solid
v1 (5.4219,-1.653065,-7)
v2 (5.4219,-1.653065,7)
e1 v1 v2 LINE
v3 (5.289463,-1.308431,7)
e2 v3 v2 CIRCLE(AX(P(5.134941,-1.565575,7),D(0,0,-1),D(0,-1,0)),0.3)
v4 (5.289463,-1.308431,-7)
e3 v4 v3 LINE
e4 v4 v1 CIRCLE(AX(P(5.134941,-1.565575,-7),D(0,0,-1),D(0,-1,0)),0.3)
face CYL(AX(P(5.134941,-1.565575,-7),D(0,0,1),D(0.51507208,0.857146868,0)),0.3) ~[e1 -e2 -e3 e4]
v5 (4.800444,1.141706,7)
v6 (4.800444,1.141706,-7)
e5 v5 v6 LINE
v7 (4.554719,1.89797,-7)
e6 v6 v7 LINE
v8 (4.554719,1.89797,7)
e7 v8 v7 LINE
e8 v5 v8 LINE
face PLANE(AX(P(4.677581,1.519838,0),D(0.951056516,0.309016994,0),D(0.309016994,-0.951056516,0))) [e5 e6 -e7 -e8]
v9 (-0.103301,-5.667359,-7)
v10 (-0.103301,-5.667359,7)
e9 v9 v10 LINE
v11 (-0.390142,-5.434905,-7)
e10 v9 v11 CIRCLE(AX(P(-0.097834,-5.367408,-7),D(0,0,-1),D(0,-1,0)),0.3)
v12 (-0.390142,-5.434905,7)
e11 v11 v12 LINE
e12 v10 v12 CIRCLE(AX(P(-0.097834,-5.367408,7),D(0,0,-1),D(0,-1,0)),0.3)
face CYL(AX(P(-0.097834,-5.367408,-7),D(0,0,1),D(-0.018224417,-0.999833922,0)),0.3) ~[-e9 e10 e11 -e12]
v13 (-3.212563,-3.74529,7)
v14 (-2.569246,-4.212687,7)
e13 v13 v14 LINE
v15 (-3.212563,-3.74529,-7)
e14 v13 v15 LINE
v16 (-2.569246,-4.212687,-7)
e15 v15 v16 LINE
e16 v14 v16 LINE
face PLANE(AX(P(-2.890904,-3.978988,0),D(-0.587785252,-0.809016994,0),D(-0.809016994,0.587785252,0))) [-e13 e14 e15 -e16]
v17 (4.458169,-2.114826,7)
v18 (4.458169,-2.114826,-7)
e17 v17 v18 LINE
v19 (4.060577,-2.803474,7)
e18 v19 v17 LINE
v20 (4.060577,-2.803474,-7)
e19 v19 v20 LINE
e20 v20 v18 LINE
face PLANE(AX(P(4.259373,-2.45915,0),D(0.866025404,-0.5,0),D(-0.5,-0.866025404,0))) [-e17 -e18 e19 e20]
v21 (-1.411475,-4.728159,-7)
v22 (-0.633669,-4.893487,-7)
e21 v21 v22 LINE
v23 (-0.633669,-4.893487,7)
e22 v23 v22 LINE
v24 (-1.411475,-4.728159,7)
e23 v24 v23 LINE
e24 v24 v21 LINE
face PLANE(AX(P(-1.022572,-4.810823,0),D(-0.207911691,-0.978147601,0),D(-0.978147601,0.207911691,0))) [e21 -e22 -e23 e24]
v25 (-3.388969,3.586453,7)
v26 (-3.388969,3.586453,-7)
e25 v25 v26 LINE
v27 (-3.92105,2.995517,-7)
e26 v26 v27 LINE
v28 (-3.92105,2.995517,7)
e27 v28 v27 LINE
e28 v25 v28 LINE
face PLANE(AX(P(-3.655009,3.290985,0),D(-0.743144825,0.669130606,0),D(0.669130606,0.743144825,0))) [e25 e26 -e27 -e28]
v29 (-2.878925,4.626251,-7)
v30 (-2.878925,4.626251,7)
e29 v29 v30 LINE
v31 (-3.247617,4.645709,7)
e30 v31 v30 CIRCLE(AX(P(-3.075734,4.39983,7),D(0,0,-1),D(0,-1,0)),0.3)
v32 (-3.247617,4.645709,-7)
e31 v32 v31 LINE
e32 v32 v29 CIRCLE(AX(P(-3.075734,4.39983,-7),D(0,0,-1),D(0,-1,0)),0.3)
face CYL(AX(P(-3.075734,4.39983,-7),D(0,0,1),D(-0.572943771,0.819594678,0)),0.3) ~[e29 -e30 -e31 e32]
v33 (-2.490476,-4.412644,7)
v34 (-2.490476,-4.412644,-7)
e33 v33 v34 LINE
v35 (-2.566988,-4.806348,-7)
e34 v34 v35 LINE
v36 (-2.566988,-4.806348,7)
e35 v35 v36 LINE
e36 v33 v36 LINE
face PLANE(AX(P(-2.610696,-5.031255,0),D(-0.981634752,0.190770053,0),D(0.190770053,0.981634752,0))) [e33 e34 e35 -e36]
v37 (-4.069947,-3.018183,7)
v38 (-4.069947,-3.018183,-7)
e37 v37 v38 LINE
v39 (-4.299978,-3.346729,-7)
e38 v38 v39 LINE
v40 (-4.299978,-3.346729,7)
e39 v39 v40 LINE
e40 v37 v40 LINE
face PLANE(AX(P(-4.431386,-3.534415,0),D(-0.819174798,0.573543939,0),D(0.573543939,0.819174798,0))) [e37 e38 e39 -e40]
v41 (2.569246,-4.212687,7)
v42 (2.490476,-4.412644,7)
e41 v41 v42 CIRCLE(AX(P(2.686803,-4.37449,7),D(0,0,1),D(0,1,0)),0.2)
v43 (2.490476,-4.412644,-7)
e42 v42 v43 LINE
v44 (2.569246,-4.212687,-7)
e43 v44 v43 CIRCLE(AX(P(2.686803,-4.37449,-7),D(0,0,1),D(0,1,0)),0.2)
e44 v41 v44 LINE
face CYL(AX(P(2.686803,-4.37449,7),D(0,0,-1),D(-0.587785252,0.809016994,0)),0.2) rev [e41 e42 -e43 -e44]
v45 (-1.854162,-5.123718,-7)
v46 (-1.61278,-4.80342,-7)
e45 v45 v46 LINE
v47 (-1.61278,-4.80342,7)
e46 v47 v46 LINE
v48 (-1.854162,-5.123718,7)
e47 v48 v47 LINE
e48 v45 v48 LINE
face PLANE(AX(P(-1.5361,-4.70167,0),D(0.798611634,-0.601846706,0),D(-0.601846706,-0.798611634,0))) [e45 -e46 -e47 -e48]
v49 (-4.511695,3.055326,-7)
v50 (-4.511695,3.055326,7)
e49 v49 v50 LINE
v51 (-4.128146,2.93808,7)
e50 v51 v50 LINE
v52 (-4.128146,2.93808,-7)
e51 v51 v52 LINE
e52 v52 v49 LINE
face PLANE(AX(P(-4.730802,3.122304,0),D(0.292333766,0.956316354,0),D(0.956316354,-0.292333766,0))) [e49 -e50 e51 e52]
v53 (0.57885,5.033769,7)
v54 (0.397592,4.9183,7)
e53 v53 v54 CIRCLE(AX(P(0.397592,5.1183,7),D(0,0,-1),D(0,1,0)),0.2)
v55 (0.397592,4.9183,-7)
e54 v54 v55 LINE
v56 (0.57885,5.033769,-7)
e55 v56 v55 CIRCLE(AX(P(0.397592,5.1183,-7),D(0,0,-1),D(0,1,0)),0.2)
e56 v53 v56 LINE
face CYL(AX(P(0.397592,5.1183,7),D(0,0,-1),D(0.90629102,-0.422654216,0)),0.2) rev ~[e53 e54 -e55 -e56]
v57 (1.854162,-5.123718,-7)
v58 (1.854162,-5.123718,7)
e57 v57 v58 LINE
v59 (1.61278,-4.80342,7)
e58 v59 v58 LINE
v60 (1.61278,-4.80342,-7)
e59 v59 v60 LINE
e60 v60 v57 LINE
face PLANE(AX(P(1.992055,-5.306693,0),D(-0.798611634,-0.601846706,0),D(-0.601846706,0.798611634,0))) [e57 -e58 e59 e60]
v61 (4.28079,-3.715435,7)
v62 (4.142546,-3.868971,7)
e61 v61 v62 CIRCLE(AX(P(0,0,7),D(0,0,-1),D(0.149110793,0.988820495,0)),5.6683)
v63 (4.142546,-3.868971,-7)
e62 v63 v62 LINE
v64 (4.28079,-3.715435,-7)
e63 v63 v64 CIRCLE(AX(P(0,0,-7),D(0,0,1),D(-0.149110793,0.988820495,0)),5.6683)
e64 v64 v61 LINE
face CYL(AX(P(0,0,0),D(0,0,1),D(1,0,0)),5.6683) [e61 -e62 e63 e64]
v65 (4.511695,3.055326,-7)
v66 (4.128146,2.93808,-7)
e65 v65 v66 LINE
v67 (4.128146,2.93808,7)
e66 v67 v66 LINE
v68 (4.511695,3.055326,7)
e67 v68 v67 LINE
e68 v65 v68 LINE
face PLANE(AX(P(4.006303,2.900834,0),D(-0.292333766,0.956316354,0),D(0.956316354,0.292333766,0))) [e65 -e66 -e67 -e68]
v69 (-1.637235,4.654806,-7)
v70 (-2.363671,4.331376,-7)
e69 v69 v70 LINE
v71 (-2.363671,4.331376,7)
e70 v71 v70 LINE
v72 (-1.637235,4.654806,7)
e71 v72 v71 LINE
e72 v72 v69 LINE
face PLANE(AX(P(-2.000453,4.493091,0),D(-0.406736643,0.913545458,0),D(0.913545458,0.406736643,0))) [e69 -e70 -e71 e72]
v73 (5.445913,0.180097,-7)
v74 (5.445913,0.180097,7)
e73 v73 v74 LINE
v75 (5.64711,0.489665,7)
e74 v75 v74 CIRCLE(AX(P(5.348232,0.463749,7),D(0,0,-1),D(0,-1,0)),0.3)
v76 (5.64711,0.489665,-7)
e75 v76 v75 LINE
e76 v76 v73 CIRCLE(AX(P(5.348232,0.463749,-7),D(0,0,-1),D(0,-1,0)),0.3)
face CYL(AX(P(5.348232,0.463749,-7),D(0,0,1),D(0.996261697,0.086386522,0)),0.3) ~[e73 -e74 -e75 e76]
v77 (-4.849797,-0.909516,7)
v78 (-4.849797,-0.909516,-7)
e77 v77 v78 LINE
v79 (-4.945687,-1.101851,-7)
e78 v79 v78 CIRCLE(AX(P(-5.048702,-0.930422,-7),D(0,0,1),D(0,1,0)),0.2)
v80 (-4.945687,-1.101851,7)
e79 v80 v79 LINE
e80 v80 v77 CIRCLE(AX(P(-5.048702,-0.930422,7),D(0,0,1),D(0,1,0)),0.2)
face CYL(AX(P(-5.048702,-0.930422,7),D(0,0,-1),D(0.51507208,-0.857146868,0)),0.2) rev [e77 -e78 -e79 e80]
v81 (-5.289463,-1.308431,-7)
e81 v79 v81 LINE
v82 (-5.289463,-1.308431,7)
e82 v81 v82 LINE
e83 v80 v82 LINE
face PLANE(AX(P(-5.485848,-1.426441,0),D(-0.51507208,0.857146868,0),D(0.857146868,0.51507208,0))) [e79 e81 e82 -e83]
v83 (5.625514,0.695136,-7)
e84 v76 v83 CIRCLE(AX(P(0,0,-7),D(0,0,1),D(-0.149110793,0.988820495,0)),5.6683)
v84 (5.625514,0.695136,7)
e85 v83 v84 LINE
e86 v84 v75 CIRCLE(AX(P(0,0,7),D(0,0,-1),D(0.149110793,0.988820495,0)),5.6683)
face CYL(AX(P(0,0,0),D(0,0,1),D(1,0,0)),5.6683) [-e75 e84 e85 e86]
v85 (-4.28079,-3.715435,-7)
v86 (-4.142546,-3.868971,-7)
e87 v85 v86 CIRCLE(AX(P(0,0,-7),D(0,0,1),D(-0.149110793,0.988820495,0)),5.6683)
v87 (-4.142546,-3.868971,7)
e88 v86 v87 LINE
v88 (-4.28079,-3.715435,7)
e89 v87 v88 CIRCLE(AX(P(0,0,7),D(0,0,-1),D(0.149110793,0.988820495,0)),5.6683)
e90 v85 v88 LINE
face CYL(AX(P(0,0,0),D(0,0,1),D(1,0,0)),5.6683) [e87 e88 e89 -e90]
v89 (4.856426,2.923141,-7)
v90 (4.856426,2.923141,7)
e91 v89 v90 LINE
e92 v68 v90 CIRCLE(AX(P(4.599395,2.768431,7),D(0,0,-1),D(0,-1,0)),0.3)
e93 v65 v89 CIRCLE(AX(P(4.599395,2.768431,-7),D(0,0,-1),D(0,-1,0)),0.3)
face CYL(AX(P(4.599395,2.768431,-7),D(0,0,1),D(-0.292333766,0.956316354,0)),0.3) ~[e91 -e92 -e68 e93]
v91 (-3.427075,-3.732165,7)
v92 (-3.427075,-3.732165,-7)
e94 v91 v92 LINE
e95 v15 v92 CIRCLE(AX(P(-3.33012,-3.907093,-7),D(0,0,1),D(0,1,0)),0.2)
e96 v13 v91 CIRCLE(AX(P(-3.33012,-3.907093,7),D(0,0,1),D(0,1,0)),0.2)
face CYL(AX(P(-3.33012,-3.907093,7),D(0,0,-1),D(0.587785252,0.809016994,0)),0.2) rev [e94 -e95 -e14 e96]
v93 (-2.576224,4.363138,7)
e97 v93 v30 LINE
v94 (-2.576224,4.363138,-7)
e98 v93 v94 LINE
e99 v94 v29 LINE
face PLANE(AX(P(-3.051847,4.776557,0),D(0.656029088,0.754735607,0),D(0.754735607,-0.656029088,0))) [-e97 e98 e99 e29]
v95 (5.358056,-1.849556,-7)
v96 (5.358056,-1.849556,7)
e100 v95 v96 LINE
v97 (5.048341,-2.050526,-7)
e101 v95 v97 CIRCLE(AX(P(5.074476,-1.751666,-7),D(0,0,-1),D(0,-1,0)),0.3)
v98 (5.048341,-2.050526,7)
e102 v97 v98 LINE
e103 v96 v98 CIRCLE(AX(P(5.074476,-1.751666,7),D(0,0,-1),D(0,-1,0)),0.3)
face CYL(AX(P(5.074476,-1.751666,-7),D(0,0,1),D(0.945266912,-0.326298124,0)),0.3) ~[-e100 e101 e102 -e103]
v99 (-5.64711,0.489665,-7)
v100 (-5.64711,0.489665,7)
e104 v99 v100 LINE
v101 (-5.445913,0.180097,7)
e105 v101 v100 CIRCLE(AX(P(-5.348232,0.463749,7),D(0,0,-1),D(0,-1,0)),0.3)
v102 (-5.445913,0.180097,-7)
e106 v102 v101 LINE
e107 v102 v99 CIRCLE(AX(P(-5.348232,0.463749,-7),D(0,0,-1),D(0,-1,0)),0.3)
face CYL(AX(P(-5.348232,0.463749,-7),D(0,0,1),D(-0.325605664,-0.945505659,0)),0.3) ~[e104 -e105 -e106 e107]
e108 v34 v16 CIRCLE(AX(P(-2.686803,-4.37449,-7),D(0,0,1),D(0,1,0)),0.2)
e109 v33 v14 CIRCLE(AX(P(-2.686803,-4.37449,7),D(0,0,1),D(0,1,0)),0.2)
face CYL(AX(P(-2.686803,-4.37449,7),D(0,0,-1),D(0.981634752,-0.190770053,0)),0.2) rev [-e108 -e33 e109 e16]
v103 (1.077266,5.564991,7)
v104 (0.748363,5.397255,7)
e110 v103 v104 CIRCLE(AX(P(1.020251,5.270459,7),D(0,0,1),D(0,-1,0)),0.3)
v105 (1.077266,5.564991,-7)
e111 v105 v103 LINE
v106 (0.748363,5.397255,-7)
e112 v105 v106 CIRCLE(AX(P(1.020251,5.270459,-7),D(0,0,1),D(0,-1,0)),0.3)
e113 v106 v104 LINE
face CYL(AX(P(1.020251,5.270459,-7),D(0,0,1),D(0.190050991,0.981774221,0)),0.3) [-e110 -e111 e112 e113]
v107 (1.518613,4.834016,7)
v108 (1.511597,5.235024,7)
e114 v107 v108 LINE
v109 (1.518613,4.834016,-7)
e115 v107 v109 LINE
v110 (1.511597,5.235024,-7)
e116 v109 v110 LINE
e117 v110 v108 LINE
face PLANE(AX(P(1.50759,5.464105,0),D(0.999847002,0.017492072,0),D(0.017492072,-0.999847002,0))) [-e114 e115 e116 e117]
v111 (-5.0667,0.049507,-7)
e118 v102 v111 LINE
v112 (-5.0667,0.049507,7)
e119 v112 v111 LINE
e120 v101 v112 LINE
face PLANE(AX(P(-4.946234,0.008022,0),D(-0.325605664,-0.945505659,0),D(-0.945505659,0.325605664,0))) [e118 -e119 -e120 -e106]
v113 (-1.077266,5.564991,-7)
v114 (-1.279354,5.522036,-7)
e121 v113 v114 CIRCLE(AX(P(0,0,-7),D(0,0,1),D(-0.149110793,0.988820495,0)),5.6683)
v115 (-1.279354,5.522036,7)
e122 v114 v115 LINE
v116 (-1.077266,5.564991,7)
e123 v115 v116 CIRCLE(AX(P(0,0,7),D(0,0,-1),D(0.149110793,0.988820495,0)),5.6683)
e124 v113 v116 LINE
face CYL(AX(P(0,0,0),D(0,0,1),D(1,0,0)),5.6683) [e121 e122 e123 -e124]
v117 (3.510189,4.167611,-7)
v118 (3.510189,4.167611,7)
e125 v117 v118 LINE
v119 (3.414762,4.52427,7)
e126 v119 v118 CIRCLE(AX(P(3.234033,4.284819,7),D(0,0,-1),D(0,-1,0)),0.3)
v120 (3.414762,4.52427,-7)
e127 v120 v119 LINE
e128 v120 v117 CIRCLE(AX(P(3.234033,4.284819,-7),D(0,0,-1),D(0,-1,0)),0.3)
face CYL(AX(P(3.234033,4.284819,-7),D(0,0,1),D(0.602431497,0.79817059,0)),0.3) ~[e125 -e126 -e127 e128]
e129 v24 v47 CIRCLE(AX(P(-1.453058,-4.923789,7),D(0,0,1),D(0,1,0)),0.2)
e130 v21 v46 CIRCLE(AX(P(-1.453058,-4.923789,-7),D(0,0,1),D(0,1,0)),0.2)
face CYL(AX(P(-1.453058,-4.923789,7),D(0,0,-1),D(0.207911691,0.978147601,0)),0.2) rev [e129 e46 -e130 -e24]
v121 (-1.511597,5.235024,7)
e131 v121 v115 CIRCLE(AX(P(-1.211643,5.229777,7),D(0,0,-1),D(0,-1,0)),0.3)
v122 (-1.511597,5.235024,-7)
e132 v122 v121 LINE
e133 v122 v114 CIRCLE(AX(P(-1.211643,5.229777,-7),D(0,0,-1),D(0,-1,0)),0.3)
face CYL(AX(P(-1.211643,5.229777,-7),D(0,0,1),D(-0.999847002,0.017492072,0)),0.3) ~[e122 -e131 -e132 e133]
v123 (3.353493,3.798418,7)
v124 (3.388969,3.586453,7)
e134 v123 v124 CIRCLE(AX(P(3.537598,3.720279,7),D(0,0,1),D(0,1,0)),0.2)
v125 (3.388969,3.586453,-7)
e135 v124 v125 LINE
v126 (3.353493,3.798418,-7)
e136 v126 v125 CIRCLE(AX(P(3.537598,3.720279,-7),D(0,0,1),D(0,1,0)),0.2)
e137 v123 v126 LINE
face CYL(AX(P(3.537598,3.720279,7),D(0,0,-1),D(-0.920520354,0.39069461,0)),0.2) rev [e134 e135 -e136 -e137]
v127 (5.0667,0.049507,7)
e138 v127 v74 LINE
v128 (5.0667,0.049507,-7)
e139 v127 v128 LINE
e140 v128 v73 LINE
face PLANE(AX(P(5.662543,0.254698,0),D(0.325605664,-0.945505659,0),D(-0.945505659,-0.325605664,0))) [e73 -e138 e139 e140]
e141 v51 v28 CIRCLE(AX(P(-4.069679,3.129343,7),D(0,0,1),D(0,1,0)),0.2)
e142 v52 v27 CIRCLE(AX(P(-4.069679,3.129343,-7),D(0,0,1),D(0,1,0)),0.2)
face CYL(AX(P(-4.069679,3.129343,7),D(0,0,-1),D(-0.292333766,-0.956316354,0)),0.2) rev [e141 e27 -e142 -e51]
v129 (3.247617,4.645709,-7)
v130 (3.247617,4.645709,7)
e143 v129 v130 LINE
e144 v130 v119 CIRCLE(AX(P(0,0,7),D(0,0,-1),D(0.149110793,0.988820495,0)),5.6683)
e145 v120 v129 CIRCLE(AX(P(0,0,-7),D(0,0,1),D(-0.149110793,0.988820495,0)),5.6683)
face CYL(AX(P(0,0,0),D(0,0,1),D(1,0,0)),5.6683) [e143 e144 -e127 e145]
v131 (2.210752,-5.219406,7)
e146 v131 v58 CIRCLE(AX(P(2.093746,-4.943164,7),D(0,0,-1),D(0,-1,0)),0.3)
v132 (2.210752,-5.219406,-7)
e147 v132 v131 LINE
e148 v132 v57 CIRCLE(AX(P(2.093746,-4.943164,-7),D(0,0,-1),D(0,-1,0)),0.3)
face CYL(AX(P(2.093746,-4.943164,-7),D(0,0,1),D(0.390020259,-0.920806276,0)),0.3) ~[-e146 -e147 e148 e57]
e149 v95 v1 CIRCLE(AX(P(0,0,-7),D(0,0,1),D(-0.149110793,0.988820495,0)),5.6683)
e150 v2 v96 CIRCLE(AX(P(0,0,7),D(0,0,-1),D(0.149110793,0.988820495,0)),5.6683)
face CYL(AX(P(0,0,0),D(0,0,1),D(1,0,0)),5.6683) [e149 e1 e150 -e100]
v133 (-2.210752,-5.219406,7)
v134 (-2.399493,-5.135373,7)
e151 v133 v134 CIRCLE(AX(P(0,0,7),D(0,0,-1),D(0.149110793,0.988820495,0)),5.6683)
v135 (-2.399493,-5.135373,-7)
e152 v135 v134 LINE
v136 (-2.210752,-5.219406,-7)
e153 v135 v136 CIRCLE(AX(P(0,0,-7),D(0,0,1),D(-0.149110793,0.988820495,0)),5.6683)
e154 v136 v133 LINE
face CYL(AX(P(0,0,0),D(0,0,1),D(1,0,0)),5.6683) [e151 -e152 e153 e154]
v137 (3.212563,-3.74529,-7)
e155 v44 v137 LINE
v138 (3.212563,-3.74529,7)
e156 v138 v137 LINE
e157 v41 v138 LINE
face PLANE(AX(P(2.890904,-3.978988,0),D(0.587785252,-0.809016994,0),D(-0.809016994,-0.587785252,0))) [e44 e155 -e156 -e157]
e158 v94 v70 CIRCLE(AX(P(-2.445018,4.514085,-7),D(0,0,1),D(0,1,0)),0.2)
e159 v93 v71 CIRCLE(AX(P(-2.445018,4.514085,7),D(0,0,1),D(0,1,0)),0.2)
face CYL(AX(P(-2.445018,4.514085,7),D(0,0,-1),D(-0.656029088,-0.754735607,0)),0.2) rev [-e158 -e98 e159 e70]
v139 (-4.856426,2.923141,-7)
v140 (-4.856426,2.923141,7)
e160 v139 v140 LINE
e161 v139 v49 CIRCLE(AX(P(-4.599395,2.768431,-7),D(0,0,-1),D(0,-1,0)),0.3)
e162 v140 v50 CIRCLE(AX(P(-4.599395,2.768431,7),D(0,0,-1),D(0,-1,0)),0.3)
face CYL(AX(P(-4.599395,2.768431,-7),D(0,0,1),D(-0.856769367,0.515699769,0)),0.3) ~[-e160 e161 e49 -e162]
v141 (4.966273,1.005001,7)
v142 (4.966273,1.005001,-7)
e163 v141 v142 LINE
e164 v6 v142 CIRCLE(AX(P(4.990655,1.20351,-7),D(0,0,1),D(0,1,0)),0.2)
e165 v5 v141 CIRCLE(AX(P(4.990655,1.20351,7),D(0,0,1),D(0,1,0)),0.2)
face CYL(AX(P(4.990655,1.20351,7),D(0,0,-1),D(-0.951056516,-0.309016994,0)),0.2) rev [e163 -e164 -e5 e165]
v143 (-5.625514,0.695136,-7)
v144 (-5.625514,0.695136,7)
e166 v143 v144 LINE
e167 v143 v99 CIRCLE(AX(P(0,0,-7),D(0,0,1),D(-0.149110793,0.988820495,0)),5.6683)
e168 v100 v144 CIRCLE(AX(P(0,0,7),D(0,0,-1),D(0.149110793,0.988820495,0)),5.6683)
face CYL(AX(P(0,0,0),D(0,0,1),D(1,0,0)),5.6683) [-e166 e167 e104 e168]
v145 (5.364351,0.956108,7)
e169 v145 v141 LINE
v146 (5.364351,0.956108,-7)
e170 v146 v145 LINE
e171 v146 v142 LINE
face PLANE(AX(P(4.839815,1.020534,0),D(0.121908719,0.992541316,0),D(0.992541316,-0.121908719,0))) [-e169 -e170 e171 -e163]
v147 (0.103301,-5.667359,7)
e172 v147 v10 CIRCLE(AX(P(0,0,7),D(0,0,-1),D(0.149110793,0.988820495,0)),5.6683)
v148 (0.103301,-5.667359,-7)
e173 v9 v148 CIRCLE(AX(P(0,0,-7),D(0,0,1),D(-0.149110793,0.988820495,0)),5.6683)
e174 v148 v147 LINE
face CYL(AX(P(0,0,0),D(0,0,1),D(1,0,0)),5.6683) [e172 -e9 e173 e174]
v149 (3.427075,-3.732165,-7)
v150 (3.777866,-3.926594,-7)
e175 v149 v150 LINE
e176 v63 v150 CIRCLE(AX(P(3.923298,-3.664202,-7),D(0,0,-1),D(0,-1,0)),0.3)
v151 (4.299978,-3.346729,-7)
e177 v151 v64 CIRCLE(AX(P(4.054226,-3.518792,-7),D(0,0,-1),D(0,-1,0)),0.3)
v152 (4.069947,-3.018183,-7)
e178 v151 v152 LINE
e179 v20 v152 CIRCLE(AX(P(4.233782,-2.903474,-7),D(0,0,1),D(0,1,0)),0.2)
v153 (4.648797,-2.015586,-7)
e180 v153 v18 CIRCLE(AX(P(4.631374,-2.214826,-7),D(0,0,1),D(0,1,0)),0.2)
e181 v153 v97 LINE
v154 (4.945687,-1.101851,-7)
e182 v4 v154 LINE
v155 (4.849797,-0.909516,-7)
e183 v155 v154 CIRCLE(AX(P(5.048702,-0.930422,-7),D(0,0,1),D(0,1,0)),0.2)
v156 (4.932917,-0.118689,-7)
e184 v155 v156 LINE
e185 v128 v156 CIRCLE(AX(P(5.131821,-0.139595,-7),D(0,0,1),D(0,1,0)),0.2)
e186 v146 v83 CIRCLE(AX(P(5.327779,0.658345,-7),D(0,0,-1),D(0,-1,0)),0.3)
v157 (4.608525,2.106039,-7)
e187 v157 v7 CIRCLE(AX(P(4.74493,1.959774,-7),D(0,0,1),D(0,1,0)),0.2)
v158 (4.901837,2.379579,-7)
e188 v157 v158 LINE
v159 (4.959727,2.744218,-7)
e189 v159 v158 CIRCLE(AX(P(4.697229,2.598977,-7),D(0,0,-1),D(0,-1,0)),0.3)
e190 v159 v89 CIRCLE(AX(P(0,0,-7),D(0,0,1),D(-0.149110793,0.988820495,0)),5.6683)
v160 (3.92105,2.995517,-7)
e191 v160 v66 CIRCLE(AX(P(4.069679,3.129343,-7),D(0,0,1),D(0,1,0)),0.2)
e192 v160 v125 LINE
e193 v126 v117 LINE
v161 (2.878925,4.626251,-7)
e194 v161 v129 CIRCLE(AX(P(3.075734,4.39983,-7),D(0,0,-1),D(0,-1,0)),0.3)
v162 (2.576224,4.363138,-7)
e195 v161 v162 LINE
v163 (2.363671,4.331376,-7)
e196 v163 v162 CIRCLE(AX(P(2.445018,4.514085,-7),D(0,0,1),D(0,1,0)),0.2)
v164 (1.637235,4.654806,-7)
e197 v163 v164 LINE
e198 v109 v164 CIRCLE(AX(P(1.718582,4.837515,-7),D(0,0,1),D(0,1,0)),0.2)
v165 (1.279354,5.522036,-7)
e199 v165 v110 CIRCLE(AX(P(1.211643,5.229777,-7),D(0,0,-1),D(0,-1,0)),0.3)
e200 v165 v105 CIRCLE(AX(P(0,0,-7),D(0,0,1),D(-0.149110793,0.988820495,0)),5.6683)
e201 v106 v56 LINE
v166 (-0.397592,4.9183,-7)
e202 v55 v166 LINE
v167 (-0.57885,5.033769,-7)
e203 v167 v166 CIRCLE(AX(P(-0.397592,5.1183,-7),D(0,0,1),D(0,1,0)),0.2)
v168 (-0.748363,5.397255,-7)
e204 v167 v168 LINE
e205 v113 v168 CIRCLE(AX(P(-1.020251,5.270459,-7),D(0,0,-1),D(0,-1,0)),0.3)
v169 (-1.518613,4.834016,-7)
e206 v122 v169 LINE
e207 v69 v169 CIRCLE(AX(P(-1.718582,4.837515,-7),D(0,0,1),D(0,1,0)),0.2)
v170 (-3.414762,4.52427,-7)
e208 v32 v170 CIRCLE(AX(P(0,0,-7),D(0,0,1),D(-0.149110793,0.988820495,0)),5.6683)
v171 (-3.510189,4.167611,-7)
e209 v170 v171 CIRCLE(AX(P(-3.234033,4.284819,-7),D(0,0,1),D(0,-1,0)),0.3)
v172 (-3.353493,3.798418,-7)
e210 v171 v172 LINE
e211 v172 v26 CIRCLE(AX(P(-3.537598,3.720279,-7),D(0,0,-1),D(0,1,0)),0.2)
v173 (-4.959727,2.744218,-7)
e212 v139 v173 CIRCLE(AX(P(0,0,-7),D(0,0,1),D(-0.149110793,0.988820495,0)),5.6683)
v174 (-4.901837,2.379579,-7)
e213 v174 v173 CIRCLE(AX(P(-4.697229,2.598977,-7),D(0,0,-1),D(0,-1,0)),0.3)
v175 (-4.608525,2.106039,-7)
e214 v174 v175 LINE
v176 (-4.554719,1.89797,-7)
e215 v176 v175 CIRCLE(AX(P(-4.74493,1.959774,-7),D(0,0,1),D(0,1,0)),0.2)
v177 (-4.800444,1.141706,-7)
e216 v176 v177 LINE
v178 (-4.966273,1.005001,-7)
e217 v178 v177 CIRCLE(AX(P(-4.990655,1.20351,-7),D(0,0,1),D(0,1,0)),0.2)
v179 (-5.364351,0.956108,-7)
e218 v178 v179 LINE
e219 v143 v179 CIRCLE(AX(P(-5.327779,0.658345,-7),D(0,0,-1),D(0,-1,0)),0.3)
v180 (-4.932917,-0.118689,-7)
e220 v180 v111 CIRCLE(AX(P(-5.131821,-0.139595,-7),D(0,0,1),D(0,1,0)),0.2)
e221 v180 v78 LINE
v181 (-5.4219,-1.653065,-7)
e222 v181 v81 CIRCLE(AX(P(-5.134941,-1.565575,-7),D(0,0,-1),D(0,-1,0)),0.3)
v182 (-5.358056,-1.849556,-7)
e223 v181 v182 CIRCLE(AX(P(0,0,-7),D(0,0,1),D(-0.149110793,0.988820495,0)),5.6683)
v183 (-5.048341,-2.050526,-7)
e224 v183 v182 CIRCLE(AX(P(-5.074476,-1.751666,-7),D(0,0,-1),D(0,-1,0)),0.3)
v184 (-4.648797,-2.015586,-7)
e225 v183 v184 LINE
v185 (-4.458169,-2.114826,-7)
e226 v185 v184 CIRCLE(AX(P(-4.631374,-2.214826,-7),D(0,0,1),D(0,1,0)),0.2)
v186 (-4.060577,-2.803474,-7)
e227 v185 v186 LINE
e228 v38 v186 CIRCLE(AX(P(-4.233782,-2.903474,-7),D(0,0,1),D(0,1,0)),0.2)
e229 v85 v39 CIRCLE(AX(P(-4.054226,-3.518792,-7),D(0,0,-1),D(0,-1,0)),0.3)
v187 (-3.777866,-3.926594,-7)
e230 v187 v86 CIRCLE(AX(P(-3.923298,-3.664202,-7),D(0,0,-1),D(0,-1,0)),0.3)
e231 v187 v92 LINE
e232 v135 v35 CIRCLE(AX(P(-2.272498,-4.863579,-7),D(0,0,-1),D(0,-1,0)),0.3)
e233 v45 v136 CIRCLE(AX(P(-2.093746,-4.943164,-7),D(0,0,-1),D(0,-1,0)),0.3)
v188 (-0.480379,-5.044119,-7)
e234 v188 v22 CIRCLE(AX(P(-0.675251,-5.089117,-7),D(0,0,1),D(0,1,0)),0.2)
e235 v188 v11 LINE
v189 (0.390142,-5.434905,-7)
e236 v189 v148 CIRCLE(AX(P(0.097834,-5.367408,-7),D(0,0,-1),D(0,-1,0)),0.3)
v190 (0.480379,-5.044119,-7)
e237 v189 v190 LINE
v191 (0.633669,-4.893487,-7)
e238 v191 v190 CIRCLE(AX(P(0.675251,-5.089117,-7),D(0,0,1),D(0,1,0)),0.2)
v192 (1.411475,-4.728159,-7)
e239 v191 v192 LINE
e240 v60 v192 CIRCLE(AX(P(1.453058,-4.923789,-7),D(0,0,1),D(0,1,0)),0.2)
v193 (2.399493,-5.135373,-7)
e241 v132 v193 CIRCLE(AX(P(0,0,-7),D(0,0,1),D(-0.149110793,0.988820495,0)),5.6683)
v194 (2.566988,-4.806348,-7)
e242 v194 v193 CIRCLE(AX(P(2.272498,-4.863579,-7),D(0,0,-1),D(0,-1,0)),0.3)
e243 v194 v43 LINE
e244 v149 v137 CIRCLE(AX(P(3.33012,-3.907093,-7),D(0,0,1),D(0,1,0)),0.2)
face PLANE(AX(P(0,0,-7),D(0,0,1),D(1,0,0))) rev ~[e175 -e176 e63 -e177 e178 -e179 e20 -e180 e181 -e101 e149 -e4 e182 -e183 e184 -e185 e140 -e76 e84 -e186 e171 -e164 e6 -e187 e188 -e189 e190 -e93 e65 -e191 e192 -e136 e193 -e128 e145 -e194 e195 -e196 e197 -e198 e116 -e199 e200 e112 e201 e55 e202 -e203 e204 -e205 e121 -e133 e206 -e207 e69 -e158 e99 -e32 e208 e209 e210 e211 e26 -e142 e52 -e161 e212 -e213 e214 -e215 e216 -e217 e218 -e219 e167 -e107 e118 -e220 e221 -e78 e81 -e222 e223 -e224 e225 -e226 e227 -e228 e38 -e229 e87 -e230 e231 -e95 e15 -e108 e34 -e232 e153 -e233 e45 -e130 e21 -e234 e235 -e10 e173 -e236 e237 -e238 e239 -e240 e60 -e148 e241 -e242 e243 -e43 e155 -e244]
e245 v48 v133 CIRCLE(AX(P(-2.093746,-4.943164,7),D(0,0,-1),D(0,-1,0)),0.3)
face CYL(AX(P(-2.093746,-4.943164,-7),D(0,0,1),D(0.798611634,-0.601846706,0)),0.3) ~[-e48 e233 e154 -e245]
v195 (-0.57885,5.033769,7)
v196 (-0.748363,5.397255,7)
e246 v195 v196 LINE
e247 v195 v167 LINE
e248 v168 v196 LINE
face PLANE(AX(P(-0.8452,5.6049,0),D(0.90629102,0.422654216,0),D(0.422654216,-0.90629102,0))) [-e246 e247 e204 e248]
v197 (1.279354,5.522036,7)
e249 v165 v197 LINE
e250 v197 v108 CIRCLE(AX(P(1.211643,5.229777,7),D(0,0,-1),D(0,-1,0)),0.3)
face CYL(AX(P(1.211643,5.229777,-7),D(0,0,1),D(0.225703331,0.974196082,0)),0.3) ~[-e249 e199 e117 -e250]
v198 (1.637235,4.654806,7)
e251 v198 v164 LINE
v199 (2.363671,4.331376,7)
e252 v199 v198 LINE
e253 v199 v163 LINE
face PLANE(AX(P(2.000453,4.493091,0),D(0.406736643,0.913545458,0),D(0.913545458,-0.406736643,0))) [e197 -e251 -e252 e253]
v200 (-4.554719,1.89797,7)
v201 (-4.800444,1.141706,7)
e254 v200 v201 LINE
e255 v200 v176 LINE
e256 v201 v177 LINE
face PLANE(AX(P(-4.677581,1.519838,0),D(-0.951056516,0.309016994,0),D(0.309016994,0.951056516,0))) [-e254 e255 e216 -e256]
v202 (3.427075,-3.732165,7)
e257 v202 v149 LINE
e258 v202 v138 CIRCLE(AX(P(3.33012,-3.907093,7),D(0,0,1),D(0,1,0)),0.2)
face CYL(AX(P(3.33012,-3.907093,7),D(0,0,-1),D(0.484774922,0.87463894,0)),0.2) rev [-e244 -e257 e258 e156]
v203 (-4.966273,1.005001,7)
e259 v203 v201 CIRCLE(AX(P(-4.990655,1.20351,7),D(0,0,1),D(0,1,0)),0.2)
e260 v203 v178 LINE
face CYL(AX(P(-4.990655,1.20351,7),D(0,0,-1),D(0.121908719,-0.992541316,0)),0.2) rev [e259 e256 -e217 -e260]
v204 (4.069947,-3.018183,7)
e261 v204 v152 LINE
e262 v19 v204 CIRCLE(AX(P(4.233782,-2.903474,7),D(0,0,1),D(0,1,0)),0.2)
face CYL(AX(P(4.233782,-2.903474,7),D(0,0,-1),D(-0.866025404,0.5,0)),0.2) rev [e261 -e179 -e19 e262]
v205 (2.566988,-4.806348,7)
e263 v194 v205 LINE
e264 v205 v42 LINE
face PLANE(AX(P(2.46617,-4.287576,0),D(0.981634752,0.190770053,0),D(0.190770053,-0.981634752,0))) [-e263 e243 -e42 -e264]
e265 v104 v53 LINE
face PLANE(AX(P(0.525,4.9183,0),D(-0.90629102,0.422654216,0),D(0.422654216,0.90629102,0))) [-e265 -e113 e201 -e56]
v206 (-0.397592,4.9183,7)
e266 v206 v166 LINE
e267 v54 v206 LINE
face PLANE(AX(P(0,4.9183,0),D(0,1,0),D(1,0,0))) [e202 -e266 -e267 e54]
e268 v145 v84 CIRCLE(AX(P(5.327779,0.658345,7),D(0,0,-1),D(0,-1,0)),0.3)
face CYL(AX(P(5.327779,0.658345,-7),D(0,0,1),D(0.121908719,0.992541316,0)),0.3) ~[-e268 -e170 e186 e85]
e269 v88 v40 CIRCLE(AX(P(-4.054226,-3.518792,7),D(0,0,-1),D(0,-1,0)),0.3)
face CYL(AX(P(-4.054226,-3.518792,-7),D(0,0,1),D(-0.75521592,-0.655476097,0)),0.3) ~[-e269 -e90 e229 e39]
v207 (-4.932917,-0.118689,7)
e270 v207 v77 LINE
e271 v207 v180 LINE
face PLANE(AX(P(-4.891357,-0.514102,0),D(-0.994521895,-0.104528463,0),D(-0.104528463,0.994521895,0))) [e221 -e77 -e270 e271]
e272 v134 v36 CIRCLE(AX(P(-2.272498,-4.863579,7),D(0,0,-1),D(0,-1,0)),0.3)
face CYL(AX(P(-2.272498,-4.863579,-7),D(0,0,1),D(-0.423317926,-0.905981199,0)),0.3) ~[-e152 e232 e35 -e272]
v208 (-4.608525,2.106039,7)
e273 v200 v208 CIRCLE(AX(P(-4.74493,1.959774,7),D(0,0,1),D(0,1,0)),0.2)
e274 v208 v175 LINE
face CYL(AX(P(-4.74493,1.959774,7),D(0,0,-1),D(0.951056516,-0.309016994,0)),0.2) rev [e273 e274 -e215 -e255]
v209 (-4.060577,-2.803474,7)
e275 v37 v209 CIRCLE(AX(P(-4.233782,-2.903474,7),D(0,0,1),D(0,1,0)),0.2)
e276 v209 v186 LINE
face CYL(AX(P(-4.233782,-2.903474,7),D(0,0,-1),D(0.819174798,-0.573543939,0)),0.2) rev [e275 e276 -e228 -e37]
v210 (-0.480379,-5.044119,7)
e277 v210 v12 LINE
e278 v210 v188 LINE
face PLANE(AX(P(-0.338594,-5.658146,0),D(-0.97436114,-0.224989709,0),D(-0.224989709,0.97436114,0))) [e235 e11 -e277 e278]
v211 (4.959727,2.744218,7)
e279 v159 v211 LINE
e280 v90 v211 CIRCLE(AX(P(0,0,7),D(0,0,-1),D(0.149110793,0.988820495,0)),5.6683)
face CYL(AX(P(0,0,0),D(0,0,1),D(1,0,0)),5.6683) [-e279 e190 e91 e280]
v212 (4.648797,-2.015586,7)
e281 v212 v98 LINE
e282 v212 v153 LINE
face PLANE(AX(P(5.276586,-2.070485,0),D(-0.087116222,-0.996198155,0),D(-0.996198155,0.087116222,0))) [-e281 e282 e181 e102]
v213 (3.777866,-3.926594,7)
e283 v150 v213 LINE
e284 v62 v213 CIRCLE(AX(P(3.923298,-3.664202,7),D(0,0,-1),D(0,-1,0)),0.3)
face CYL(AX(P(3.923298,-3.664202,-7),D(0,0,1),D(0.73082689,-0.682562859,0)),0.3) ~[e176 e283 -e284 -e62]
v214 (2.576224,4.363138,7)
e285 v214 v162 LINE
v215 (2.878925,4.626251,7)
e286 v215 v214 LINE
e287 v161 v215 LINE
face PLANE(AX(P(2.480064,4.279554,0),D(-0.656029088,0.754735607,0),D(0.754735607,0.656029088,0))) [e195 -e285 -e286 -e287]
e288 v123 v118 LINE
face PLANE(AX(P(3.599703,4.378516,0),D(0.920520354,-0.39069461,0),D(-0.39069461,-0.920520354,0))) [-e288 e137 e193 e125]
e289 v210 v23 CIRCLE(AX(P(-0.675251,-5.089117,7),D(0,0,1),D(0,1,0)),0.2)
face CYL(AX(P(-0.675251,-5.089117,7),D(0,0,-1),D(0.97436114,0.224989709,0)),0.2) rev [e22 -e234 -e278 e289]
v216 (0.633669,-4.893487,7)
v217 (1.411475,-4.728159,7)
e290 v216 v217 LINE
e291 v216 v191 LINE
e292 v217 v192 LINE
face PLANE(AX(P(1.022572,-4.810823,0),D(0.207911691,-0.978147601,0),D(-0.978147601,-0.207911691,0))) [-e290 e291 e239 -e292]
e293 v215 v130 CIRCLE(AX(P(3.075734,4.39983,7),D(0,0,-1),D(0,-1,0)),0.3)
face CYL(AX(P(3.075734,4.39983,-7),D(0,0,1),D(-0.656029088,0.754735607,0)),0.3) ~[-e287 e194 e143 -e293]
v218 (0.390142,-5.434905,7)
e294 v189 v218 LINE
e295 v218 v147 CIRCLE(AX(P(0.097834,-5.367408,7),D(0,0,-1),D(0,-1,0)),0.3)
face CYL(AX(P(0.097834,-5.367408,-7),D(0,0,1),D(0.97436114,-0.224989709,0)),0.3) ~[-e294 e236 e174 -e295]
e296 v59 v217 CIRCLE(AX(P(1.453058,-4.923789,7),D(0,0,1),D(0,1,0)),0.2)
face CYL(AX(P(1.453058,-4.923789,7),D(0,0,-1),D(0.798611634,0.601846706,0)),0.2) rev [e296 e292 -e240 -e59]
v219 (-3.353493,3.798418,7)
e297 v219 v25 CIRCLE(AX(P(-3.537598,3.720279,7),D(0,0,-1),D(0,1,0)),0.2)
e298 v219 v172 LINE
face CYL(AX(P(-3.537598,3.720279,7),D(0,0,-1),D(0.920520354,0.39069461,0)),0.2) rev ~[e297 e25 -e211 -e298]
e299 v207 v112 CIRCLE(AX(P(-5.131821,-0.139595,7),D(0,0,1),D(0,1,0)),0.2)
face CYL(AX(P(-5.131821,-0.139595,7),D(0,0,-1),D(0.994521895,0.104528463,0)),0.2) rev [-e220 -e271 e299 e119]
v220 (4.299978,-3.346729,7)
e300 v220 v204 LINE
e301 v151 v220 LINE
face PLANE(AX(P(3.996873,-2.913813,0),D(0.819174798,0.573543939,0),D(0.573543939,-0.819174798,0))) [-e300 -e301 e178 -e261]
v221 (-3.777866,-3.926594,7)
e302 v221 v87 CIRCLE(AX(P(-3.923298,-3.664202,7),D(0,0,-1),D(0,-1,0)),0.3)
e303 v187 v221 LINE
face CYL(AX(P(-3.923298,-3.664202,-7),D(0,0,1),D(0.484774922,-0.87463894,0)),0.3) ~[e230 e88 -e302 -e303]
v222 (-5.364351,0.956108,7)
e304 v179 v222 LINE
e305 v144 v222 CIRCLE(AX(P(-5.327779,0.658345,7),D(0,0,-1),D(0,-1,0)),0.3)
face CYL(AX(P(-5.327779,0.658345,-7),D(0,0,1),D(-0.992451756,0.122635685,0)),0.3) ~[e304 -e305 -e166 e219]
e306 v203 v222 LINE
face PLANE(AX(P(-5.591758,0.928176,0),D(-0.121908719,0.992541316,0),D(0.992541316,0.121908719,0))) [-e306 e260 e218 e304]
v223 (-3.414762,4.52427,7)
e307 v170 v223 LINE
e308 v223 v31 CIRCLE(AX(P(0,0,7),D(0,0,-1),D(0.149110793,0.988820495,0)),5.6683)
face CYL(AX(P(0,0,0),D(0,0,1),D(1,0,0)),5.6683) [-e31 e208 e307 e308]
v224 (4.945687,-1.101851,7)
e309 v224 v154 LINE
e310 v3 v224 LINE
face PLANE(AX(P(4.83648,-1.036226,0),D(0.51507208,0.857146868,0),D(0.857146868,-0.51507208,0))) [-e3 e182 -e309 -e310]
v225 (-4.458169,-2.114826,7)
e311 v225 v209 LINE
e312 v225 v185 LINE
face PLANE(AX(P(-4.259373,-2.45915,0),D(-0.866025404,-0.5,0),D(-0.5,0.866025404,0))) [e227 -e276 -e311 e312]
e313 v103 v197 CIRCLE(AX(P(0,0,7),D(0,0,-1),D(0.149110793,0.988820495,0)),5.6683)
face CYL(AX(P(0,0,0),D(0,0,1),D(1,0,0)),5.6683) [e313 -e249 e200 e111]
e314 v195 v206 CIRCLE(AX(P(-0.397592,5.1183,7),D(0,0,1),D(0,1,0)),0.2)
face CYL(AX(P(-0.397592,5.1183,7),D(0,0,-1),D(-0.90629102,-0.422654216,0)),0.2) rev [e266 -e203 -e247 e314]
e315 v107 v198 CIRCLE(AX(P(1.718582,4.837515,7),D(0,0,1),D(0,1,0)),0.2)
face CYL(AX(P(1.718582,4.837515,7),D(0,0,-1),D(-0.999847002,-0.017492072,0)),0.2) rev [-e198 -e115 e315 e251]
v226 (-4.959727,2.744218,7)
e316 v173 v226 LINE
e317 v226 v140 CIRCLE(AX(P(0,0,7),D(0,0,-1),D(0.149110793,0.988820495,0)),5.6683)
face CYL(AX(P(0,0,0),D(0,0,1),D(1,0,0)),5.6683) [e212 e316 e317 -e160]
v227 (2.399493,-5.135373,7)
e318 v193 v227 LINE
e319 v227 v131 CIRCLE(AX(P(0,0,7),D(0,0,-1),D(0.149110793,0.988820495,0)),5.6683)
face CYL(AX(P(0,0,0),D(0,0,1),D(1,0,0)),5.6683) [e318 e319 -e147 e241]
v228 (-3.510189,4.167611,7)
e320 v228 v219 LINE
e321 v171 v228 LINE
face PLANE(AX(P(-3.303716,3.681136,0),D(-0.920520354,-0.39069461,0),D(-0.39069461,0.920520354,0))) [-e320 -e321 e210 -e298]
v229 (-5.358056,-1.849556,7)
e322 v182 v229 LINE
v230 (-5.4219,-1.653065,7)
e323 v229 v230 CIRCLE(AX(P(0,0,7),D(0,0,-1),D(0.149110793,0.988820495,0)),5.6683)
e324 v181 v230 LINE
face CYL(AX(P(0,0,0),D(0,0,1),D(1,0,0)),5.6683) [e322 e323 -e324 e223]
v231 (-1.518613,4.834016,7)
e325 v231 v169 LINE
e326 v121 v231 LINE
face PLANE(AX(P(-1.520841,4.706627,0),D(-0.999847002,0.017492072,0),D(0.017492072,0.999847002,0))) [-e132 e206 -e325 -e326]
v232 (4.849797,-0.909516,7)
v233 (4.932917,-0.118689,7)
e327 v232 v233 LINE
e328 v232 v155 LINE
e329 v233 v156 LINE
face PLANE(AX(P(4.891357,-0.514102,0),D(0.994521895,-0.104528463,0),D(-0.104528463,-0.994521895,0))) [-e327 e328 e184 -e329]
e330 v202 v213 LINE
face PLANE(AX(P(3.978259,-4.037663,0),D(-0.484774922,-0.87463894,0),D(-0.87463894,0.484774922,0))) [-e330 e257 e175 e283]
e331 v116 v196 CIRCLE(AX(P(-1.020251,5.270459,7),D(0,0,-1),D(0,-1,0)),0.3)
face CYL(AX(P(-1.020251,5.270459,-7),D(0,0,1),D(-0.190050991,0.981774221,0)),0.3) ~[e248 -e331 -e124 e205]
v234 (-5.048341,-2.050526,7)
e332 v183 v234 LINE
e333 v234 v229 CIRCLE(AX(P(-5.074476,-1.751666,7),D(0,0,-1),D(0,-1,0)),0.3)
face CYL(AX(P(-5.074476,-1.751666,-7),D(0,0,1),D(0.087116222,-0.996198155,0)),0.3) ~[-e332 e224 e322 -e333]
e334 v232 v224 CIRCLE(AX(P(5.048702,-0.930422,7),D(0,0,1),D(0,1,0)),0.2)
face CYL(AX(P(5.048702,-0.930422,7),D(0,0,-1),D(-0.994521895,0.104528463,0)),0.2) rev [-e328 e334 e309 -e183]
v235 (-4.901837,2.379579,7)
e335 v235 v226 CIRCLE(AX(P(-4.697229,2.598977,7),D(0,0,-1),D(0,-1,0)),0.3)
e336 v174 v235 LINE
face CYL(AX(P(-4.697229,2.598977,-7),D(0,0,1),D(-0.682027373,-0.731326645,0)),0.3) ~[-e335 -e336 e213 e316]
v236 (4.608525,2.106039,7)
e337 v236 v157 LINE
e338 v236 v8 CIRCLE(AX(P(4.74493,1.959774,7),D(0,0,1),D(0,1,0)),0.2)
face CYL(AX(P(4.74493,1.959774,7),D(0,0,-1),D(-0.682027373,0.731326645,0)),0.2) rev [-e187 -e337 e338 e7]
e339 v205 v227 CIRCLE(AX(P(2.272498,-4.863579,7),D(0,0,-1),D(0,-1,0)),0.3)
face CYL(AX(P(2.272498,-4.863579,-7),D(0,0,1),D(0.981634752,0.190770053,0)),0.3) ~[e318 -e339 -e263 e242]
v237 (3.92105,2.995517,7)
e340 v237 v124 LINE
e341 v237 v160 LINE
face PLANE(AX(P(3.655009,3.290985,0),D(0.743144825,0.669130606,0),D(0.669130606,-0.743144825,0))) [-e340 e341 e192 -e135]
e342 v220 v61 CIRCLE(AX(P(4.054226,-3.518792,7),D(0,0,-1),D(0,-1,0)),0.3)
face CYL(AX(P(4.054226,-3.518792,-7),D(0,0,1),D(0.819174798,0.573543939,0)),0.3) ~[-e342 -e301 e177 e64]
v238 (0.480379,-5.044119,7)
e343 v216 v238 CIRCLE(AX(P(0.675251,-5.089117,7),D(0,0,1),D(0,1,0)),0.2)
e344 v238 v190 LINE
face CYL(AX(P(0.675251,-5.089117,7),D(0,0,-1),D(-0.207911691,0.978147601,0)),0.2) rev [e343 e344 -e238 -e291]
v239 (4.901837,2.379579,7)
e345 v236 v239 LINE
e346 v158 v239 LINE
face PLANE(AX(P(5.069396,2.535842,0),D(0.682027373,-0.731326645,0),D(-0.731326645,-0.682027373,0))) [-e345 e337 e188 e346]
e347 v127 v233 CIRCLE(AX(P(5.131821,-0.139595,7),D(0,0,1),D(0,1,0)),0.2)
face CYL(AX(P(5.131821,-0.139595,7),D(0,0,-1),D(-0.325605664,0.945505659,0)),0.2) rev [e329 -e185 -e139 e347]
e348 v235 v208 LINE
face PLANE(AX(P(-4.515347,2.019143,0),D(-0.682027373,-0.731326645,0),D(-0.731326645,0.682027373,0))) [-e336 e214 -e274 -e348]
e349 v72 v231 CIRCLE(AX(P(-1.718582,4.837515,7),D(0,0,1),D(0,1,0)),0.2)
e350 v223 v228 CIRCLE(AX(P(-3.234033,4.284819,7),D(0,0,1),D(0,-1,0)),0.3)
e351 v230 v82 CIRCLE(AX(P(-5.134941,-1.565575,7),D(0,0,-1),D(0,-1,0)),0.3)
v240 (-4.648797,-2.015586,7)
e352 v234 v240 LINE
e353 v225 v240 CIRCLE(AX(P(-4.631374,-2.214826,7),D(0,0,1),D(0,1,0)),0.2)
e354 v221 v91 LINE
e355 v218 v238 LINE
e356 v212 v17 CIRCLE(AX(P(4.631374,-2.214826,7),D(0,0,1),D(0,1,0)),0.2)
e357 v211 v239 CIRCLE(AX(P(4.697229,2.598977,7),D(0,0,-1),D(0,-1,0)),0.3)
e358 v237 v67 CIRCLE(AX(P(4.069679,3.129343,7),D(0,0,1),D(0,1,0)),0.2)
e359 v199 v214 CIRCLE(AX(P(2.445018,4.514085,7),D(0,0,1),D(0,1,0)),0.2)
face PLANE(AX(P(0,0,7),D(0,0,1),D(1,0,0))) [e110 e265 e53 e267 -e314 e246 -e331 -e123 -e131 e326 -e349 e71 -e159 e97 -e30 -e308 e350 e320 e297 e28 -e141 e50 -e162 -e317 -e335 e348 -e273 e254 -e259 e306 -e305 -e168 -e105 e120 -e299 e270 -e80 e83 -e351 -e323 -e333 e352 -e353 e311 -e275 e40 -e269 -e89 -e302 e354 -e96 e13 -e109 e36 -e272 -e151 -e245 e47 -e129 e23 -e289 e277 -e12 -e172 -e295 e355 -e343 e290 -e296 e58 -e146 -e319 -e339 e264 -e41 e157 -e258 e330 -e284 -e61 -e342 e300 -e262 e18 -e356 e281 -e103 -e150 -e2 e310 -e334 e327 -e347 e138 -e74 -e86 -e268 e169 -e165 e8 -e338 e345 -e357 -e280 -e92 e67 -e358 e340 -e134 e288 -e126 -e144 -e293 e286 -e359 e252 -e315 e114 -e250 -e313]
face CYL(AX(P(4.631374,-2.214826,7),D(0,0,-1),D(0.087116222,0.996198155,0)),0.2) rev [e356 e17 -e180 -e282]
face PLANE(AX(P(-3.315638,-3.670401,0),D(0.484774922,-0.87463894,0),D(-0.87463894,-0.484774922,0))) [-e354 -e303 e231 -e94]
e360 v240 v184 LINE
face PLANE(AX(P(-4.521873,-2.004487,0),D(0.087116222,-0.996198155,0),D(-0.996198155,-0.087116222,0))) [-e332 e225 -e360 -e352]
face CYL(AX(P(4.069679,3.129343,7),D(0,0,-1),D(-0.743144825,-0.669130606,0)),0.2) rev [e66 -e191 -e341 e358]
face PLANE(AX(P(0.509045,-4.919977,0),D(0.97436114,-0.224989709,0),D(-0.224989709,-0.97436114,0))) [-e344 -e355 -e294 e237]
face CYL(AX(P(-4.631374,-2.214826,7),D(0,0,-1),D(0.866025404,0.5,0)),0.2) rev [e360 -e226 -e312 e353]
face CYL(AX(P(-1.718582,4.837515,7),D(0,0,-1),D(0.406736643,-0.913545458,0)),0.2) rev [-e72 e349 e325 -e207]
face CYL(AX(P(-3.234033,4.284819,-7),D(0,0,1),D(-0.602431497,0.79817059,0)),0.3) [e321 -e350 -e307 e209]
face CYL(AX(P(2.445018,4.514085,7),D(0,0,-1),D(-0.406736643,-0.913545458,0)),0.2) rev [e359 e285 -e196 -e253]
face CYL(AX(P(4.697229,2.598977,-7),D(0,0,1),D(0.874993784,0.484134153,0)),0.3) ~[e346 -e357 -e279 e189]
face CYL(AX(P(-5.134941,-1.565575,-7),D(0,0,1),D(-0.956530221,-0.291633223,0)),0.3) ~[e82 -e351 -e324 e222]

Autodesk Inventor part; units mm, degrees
ref_plane "YZ Plane" through (0, 0, 0) normal (1, 0, 0) x (0, 1, 0)
ref_plane "XZ Plane" through (0, 0, 0) normal (0, 1, 0) x (-1, 0, 0)
ref_plane "XY Plane" through (0, 0, 0) normal (0, 0, 1) x (1, 0, 0)
sketch "Pulley Sketch" plane through (0, 0, 0) normal (0, 0, 1) x (1, 0, 0)
  circle A0 centre (0, 0) radius 5.9683 construction
  circle A1 centre (0, 0) radius 5.6683
  circle A2 centre (0, 0) radius 4.9183
  line L0 (-0.8452, 5.6049) -> (-0.525, 4.9183)
  line L1 (-0.525, 4.9183) -> (0.525, 4.9183)
  line L2 (0.525, 4.9183) -> (0.8452, 5.6049)
  line L3 (0, 0) -> (0, 5.6683) construction
  point P0 (0, 4.9183)
  dimension "d0" = 11.9366
  dimension "d1" = 0.3
  dimension "d2" = 0.75
  dimension "d3" = 50
  dimension "d4" = 1.05
extrude "Base Body" add sketch "Pulley Sketch" along normal mid plane 14 contours A2 | A1 L0 L1 L2 | L2 L1 L0 A1
extrude "Tooth" cut sketch "Pulley Sketch" along normal through all both and the other way through all contours L2 L1 L0 A1 picked at (0, 5.4136)
fillet "Tooth Fillet" radius 0.2 2 edges at (0.525, 4.9183, 0) (-0.525, 4.9183, 0)
fillet "Tooth Fillet" radius 0.3 4 edges at (-0.8452, 5.6049, 3.5) (-0.8452, 5.6049, -3.5) (0.8452, 5.6049, 3.5) (0.8452, 5.6049, -3.5)
pattern_circular "Teeth" count 15 over 360 about axis through (0, 0, -10) along (0, 0, 1) of "Tooth", "Tooth Fillet"
feature "Left flange" [suppressed]
feature "Right flange" [suppressed]
equation "\"d1\" = da_a"
equation "\"d2\" = da_hg"
equation "\"d3\" = 2 * da_fi"
equation "\"d4\" = da_bw"
equation "\"d5\" = da_bf"
equation "\"d7\" = da_bf"
equation "\"d9\" = da_rb"
equation "\"d10\" = da_rt"
equation "\"da_pb\" = 2.5"
equation "\"da_fi\" = 25deg"
equation "\"da_hg\" = 0.75"
equation "\"da_bw\" = 1.05"
equation "\"da_rb\" = 0.2"
equation "\"da_rt\" = 0.3"
equation "\"da_a\" = 0.3"
equation "\"da_bf\" = 14"
equation "\"da_wf\" = 1.5"
equation "\"da_hf\" = 1.5"
properties part number "Synchronous Pulley1" material "Steel"
